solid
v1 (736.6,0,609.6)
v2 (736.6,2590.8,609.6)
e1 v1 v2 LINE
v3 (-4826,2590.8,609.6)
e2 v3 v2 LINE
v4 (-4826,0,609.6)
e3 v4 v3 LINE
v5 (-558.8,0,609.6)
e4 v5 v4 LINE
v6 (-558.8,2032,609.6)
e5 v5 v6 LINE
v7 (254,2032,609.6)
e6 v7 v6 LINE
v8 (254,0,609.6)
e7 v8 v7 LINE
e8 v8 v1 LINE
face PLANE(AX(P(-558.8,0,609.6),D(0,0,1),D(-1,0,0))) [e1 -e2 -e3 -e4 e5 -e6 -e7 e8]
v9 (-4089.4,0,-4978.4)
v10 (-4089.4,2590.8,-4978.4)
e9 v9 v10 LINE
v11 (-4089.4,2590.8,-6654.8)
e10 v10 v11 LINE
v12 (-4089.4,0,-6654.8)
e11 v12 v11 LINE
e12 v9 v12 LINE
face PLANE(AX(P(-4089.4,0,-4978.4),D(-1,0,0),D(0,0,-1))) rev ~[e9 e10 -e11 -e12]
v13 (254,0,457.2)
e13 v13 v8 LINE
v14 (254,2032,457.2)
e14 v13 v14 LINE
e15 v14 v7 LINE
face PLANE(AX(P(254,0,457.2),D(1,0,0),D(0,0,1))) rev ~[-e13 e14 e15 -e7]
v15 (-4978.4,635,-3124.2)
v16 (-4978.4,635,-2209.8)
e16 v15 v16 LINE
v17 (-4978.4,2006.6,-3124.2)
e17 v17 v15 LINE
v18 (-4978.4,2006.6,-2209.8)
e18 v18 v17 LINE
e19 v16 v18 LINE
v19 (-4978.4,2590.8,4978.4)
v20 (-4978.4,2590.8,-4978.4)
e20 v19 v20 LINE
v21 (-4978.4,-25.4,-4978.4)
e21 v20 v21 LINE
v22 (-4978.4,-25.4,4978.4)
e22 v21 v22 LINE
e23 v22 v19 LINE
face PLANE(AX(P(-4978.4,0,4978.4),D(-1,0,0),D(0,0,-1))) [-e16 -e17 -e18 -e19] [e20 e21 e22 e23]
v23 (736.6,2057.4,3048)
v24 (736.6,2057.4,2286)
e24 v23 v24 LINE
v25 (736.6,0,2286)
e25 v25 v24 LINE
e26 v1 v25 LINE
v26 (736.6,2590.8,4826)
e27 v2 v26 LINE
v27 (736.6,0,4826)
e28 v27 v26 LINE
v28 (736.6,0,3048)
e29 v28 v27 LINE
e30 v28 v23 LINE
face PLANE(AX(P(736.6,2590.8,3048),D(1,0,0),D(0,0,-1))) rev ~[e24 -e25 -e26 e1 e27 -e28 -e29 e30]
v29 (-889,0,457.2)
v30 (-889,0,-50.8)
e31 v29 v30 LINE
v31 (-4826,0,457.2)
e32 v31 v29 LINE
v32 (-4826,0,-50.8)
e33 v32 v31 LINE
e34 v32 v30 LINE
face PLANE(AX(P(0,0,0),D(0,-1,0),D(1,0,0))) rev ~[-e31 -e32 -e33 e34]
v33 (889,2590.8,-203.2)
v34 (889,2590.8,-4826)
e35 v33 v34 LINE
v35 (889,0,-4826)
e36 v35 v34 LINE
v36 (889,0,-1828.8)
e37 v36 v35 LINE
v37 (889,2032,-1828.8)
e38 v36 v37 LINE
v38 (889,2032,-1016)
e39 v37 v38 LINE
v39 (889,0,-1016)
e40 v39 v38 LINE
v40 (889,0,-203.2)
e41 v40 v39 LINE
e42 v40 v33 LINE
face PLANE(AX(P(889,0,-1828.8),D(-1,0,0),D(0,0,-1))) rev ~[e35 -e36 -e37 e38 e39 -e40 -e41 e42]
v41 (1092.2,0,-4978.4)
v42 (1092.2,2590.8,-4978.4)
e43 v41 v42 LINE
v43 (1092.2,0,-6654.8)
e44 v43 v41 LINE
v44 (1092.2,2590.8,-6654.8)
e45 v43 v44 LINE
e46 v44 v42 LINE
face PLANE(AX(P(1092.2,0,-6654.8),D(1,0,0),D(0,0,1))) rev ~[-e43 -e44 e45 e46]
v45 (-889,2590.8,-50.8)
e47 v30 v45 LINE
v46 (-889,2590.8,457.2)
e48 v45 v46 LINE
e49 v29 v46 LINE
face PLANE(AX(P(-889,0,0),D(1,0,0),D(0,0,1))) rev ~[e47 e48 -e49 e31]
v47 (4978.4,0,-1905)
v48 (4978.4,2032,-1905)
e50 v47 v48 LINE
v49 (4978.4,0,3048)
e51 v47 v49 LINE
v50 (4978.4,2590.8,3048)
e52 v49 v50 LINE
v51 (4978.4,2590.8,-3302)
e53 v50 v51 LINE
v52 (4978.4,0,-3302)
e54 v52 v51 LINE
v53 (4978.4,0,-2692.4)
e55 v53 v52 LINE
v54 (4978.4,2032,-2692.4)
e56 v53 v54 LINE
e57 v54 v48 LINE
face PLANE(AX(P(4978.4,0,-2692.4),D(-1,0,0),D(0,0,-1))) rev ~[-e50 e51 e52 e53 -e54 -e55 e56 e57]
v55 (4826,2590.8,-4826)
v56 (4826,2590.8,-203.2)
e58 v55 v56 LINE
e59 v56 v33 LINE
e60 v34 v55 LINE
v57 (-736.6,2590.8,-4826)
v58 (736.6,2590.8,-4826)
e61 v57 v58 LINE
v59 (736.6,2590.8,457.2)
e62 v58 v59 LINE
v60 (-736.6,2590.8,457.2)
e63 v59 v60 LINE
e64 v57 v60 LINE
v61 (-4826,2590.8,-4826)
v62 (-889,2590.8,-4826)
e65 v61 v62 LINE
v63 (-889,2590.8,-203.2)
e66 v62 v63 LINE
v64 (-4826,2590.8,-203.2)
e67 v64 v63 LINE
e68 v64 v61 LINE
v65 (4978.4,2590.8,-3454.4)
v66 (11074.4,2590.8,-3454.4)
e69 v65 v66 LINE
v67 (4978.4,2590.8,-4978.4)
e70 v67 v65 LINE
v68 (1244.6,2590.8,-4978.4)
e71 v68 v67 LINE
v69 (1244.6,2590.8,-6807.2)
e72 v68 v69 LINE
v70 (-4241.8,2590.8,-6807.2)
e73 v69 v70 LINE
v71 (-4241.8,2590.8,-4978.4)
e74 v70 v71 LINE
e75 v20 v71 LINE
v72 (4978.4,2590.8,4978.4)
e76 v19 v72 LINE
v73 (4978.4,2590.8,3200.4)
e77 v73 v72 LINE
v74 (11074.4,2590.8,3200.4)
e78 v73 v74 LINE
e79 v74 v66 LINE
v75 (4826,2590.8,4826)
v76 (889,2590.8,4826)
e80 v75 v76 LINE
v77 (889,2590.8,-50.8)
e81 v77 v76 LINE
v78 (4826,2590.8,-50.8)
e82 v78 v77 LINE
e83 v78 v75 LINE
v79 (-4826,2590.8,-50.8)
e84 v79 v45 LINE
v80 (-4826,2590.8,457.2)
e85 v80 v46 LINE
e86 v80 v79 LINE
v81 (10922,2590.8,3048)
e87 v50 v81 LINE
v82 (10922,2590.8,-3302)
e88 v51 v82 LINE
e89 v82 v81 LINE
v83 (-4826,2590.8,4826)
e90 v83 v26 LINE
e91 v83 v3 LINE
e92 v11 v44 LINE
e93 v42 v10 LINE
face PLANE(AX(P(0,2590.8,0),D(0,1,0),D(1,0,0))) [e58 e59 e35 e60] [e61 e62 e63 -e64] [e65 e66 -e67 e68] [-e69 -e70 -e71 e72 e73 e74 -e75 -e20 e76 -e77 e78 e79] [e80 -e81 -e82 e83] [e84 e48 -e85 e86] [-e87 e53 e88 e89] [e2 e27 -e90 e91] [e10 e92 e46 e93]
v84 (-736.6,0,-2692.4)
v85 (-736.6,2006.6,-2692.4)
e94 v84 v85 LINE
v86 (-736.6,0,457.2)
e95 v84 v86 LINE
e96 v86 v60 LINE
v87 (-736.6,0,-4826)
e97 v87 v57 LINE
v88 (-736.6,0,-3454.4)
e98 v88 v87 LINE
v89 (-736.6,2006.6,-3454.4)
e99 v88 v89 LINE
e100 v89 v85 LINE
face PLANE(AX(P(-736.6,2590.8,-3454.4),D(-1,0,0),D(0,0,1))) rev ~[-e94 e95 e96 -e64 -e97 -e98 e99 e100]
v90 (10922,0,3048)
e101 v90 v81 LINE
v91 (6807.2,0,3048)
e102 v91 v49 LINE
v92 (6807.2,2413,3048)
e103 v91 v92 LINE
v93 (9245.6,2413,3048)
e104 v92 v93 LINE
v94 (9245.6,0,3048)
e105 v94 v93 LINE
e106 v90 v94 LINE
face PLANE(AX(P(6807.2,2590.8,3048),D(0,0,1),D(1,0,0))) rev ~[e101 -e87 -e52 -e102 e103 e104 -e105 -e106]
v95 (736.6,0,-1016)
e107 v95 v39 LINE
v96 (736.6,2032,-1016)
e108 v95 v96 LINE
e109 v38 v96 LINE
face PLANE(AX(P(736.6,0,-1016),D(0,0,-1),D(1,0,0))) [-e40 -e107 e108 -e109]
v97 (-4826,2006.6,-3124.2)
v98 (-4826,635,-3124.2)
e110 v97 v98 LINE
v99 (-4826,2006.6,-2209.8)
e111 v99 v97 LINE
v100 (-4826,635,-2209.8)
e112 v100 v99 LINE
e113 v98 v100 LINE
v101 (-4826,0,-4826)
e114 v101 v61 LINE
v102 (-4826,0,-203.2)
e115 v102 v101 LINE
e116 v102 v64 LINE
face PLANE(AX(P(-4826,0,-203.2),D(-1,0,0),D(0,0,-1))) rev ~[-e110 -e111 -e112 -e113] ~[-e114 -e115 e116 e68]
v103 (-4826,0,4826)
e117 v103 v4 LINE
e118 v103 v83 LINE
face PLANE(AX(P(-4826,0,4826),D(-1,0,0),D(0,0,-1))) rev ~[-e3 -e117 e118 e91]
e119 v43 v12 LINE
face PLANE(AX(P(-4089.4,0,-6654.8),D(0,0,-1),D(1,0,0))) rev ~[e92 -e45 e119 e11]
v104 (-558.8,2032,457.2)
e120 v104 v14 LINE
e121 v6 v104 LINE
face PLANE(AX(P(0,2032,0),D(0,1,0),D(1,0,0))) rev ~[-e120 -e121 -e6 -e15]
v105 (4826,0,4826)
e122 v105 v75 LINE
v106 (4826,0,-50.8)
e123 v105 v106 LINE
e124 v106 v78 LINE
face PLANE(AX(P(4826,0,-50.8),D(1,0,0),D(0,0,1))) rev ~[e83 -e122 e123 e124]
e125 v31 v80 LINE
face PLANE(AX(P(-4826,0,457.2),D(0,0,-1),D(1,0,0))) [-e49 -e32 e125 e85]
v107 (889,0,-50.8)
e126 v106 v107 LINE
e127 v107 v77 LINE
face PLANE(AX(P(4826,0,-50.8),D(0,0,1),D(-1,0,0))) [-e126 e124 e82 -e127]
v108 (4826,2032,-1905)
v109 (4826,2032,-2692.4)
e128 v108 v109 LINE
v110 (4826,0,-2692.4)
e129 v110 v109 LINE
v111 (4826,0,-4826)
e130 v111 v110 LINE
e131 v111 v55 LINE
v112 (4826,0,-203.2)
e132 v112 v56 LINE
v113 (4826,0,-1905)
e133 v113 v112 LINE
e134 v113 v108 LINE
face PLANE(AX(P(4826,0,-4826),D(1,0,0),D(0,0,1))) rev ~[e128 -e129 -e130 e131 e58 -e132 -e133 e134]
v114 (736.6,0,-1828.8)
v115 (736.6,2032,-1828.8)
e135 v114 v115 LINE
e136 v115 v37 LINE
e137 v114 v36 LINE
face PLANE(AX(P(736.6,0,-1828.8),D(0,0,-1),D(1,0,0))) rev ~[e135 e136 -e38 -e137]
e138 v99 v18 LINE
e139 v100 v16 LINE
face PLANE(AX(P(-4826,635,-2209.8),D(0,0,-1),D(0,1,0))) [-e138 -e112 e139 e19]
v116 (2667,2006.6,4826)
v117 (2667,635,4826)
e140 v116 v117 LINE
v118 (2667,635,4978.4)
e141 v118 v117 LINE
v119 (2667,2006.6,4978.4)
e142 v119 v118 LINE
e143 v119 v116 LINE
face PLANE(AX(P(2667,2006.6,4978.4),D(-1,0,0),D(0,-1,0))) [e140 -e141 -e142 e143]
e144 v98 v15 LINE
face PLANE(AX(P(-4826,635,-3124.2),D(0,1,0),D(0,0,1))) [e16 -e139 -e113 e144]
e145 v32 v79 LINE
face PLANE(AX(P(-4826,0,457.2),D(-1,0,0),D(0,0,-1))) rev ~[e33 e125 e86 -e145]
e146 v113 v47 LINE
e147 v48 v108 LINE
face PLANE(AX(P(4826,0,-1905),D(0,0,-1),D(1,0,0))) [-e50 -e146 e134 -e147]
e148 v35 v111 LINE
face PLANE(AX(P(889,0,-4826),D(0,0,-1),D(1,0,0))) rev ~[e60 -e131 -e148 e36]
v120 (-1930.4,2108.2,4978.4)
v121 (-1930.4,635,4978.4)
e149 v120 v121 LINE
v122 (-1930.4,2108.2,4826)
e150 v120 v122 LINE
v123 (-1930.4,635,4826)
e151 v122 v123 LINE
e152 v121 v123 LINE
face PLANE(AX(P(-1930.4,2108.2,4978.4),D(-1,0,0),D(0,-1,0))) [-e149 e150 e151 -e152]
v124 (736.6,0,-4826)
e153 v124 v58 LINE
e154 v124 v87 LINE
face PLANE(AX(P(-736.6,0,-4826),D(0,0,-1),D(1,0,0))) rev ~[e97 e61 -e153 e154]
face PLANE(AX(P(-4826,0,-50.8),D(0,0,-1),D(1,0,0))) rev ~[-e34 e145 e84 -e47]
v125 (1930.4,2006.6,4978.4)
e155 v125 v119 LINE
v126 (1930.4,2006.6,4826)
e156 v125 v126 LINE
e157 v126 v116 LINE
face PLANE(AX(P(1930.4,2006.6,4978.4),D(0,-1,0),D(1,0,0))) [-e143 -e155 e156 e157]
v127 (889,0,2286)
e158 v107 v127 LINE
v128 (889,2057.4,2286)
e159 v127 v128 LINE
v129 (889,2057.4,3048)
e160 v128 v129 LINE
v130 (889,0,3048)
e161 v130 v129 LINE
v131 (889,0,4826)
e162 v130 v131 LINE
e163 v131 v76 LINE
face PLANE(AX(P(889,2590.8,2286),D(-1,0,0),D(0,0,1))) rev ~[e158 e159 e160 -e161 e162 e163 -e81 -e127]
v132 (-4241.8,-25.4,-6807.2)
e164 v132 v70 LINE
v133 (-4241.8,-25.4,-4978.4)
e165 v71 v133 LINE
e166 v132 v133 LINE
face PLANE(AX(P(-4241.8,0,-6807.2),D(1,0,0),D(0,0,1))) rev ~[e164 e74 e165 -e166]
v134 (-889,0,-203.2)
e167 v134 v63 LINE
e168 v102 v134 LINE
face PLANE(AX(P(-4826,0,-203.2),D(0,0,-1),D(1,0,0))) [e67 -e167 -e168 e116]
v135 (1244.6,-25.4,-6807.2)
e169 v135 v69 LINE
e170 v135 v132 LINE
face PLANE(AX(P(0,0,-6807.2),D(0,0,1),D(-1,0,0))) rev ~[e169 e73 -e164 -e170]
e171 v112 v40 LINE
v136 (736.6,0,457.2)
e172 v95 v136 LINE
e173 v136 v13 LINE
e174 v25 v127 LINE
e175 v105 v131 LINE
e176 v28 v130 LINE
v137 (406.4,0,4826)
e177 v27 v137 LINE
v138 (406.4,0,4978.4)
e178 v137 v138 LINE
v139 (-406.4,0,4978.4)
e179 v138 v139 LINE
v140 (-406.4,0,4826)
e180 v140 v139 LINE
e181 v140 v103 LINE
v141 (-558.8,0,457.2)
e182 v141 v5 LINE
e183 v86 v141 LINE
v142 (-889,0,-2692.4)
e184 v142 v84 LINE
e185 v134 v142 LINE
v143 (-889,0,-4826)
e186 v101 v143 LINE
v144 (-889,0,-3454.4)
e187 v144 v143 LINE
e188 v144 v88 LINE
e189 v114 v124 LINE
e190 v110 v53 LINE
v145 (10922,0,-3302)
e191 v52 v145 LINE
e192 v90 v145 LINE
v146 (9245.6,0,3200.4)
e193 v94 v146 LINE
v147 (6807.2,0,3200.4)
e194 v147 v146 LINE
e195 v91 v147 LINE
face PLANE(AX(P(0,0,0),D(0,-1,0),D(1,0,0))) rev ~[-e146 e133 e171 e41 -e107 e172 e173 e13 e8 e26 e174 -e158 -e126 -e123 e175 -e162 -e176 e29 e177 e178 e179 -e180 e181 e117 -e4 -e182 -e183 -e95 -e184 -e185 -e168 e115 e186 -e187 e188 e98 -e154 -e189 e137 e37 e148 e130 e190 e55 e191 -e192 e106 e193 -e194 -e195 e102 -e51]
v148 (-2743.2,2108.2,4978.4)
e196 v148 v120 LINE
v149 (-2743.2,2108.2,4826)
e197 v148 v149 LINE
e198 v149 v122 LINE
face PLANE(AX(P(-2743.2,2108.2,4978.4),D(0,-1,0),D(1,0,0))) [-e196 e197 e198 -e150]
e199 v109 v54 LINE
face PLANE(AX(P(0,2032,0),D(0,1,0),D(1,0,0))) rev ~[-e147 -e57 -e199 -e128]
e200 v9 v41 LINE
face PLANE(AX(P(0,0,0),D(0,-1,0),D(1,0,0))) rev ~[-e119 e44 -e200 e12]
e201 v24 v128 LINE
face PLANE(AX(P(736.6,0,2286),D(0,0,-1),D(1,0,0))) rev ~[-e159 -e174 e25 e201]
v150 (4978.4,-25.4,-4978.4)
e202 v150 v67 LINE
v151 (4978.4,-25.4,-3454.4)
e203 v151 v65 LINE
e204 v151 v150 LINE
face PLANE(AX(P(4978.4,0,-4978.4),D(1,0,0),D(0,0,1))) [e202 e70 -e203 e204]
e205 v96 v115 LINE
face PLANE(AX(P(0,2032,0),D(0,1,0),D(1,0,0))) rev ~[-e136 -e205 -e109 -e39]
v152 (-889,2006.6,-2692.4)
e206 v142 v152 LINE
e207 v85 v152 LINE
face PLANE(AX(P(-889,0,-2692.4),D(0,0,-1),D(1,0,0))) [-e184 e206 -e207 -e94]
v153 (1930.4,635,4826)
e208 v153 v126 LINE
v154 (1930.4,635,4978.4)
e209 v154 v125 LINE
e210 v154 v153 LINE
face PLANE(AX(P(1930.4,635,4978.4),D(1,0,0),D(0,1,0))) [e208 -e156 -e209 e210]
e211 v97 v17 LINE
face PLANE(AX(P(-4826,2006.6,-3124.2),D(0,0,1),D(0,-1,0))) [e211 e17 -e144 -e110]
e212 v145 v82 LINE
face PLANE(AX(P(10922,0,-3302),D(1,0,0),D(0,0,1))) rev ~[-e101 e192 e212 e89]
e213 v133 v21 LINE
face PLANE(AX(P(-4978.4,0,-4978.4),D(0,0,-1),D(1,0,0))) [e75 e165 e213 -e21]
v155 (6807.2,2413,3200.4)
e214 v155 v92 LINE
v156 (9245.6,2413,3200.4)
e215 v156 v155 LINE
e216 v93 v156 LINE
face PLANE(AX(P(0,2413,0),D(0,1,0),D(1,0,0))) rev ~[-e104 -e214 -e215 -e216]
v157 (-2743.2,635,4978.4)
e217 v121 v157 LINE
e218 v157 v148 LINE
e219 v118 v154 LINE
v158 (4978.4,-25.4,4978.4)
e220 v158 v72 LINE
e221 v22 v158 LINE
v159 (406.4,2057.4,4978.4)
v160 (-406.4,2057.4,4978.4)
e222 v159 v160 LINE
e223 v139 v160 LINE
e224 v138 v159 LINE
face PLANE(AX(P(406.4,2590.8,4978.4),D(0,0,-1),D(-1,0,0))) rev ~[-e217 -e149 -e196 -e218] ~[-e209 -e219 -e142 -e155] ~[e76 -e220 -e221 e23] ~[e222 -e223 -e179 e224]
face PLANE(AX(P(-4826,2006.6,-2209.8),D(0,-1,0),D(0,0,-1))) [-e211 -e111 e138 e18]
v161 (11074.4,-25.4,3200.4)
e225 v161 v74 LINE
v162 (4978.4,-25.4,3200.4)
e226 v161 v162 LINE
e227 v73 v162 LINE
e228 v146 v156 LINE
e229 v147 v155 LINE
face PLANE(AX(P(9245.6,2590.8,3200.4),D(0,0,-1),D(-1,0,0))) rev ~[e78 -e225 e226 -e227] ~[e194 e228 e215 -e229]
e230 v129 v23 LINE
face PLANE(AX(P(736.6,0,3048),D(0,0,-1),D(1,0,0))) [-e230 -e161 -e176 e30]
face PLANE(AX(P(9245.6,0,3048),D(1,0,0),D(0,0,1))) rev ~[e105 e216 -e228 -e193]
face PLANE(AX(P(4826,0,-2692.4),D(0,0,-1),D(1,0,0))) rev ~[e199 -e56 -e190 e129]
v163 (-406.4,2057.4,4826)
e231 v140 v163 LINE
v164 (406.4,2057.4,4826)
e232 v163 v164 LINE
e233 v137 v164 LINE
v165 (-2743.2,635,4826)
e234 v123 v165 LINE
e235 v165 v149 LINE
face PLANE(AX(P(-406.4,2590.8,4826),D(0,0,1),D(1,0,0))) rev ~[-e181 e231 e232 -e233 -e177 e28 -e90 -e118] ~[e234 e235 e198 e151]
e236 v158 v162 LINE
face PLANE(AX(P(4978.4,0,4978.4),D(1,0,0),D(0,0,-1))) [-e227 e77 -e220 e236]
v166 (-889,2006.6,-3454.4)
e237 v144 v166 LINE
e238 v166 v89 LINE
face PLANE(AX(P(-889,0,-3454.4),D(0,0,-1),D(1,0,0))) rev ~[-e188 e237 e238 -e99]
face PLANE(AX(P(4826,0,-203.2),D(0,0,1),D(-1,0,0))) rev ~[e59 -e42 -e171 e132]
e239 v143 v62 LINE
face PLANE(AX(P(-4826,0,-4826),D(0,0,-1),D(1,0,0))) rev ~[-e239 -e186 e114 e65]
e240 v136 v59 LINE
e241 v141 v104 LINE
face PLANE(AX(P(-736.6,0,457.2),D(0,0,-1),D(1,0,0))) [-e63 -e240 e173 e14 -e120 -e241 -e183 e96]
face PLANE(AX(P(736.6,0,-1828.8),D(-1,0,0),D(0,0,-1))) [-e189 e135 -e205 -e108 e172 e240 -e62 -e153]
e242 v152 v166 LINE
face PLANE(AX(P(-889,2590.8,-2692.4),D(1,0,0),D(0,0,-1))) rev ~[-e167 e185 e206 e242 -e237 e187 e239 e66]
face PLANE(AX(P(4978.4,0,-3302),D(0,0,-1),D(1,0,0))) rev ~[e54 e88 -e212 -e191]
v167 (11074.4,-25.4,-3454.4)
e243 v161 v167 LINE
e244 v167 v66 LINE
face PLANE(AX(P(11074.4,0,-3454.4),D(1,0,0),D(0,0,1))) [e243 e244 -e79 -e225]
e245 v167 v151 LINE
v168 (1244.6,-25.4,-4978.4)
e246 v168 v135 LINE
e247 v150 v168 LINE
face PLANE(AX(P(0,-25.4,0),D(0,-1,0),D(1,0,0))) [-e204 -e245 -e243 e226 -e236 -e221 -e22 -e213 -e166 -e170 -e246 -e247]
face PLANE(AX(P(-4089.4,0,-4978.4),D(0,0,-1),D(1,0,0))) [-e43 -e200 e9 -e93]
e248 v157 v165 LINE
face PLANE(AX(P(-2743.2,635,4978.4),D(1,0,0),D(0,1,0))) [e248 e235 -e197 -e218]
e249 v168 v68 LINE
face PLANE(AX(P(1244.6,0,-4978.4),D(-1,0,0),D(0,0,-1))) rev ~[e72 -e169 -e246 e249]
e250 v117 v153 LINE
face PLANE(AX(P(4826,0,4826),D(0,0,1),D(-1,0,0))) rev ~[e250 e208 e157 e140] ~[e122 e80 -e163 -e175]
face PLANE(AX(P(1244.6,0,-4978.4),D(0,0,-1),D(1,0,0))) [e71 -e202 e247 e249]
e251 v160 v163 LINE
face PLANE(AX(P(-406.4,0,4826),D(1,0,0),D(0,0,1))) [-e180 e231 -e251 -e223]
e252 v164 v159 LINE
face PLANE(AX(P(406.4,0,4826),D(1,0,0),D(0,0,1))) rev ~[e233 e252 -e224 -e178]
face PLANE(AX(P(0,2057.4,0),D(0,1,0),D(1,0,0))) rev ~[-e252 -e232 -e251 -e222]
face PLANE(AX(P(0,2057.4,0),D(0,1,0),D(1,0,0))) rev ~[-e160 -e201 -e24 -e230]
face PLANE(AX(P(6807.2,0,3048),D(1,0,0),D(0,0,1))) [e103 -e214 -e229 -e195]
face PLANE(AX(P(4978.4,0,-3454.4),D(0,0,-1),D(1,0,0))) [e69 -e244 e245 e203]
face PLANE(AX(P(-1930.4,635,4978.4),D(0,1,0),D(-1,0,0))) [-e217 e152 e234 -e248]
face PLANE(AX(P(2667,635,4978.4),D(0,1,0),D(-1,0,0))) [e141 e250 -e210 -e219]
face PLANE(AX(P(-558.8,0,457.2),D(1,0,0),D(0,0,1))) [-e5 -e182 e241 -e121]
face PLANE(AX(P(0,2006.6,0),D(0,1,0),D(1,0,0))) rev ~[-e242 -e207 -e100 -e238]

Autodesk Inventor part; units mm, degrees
ref_plane "YZ Plane" through (0, 0, 0) normal (1, 0, 0) x (0, 1, 0)
ref_plane "XZ Plane" through (0, 0, 0) normal (0, 1, 0) x (-1, 0, 0)
ref_plane "XY Plane" through (0, 0, 0) normal (0, 0, 1) x (1, 0, 0)
sketch "Sketch1" plane through (0, 0, 0) normal (0, 1, 0) x (-1, 0, 0)
  line L0 (4978.4, 4978.4) -> (4978.4, -4978.4)
  line L1 (8188.96, 0) -> (-14284.96, 0) projected
  line L2 (0, -9164.32) -> (0, 7335.52) projected
  line L3 (-4978.4, -3454.4) -> (-11074.4, -3454.4)
  line L4 (-11074.4, -3454.4) -> (-11074.4, 3200.4)
  line L5 (-4978.4, -3302) -> (-10922, -3302)
  line L6 (-10922, -3302) -> (-10922, 3048)
  line L7 (4089.4, -4978.4) -> (-1092.2, -4978.4)
  line L8 (-1244.6, -4978.4) -> (-1244.6, -6807.2)
  line L9 (-1244.6, -6807.2) -> (4241.8, -6807.2)
  line L10 (4241.8, -6807.2) -> (4241.8, -4978.4)
  line L11 (4089.4, -6654.8) -> (-1092.2, -6654.8)
  line L12 (-1092.2, -6654.8) -> (-1092.2, -4978.4)
  line L13 (-1092.2, -4978.4) -> (4089.4, -4978.4)
  line L14 (4089.4, -4978.4) -> (4089.4, -6654.8)
  line L15 (-1244.6, -4978.4) -> (-4978.4, -4978.4)
  line L16 (4978.4, -4978.4) -> (4241.8, -4978.4)
  line L17 (4089.4, -4978.4) -> (-1092.2, -4978.4)
  line L18 (-4978.4, -4978.4) -> (-4978.4, -3454.4)
  line L19 (-4978.4, 3200.4) -> (-4978.4, 4978.4)
  line L20 (-6807.2, 3048) -> (-6807.2, 3200.4)
  line L21 (-9245.6, 3048) -> (-9245.6, 3200.4)
  line L22 (-10922, 3048) -> (-9245.6, 3048)
  line L23 (-6807.2, 3048) -> (-4978.4, 3048)
  line L24 (-11074.4, 3200.4) -> (-9245.6, 3200.4)
  line L25 (-6807.2, 3200.4) -> (-4978.4, 3200.4)
  line L26 (-406.4, 4826) -> (-406.4, 4978.4)
  line L27 (406.4, 4826) -> (406.4, 4978.4)
  line L28 (-4978.4, 4978.4) -> (-406.4, 4978.4)
  line L29 (406.4, 4978.4) -> (4978.4, 4978.4)
  line L30 (406.4, 4826) -> (4826, 4826)
  line L31 (4826, -203.2) -> (889, -203.2)
  line L32 (4826, -50.8) -> (889, -50.8)
  line L33 (-4826, -203.2) -> (-889, -203.2)
  line L34 (-4826, -50.8) -> (-889, -50.8)
  line L35 (-4826, -1905) -> (-4978.4, -1905)
  line L36 (-4826, -2692.4) -> (-4978.4, -2692.4)
  line L37 (-4978.4, 3048) -> (-4978.4, -1905)
  line L38 (-4978.4, -2692.4) -> (-4978.4, -3302)
  line L39 (-4978.4, 3048) -> (-4978.4, -1905)
  line L40 (-4978.4, -2692.4) -> (-4978.4, -3302)
  line L41 (-4826, -4826) -> (-4826, -2692.4)
  line L42 (-4978.4, -3302) -> (-4978.4, -2692.4)
  line L43 (-4978.4, -1905) -> (-4978.4, 3048)
  line L44 (-4826, -1905) -> (-4826, -203.2)
  line L45 (-4826, -50.8) -> (-4826, 4826)
  line L46 (-4826, 4826) -> (-889, 4826)
  line L47 (-736.6, 4826) -> (-406.4, 4826)
  line L48 (4826, -203.2) -> (4826, -4826)
  line L49 (4826, -4826) -> (889, -4826)
  line L50 (736.6, -4826) -> (-736.6, -4826)
  line L51 (-889, -4826) -> (-4826, -4826)
  line L52 (889, -2692.4) -> (736.6, -2692.4)
  line L53 (889, -3454.4) -> (736.6, -3454.4)
  line L54 (-736.6, -1016) -> (-889, -1016)
  line L55 (-736.6, -1828.8) -> (-889, -1828.8)
  line L56 (-254, 457.2) -> (-254, 609.6)
  line L57 (558.8, 609.6) -> (4826, 609.6)
  line L58 (736.6, -50.8) -> (736.6, 457.2)
  line L59 (889, -50.8) -> (889, 457.2)
  line L60 (-736.6, 3048) -> (-889, 3048)
  line L61 (-736.6, 2286) -> (-889, 2286)
  line L62 (558.8, 457.2) -> (558.8, 609.6)
  line L63 (-254, 609.6) -> (-736.6, 609.6)
  line L64 (-736.6, 457.2) -> (-254, 457.2)
  line L65 (-736.6, -50.8) -> (-736.6, 457.2)
  line L66 (4826, 457.2) -> (889, 457.2)
  line L67 (736.6, 457.2) -> (558.8, 457.2)
  line L68 (-736.6, 609.6) -> (-736.6, 2286)
  line L69 (-736.6, 3048) -> (-736.6, 4826)
  line L70 (-889, -50.8) -> (-889, 2286)
  line L71 (-889, 3048) -> (-889, 4826)
  line L72 (-736.6, -50.8) -> (-736.6, -1016)
  line L73 (-736.6, -1828.8) -> (-736.6, -4826)
  line L74 (-889, -203.2) -> (-889, -1016)
  line L75 (-889, -1828.8) -> (-889, -4826)
  line L76 (736.6, -50.8) -> (736.6, -2692.4)
  line L77 (736.6, -3454.4) -> (736.6, -4826)
  line L78 (889, -203.2) -> (889, -2692.4)
  line L79 (889, -3454.4) -> (889, -4826)
  line L80 (4826, 4826) -> (4826, 609.6)
  line L81 (4826, 457.2) -> (4826, -50.8)
  point P0 (0, 0)
  dimension "d8" = 152.4
  dimension "d9" = 152.4
  dimension "d12" = 736.6
  dimension "d14" = 152.4
  dimension "d15" = 152.4
  dimension "d16" = 152.4
  dimension "d17" = 1828.8
  dimension "d19" = 1524
  dimension "d22" = 9956.8
  dimension "d23" = 3733.8
  dimension "d24" = 1828.8
  dimension "d25" = 1828.8
  dimension "d26" = 6654.8
  dimension "d27" = 152.4
  dimension "d28" = 4572
  dimension "d29" = 812.8
  dimension "d30" = 9956.8
  dimension "d32" = 152.4
  dimension "d35" = 1701.8
  dimension "d36" = 2489.2
  dimension "d38" = 5486.4
  dimension "d40" = 152.4
  dimension "d41" = 4622.8
  dimension "d42" = 152.4
  dimension "d43" = 6096
  dimension "d44" = 2489.2
  dimension "d45" = 3251.2
  dimension "d48" = 812.8
  dimension "d49" = 812.8
  dimension "d52" = 1778
  dimension "d53" = 2540
  dimension "d57" = 812.8
  dimension "d59" = 152.4
  dimension "d60" = 152.4
  dimension "d61" = 152.4
  dimension "d62" = 5283.2
  dimension "d63" = 3937
  dimension "d64" = 4267.2
  dimension "d65" = 152.4
extrude "Extrusion1" add sketch "Sketch1" along normal blind 2590.8 contours L0 L1 L81 L66 L59 L58 L67 L62 L57 L80 L30 L27 L29 | L0 L16 L10 L9 L2 L11 L14 L7 L50 L77 L53 L79 L49 L48 L31 L78 L52 L76 L58 L1 L59 L32 L81 | L9 L8 L15 L18 L3 L4 L1 L6 L5 L38 L36 L41 L51 L75 L55 L73 L50 L2 L7 L12 L11 | L65 L72 L54 L74 L33 L44 L35 L37 L1 L45 L34 L70 | L1 L70 L61 L68 L63 L56 L64 L65 | L1 L37 L23 L20 L25 L19 L28 L26 L47 L69 L60 L71 L46 L45 | L1 L4 L24 L21 L22 L6
sketch "Sketch2" plane through (0, 0, 0) normal (0, -1, 0) x (1, 0, 0)
  line L0 (-4978.4, -4978.4) -> (-4978.4, 4978.4) projected
  line L1 (-4241.8, -4978.4) -> (-4978.4, -4978.4) projected
  line L2 (-4241.8, -6807.2) -> (-4241.8, -4978.4) projected
  line L3 (1244.6, -6807.2) -> (-4241.8, -6807.2) projected
  line L4 (1244.6, -4978.4) -> (1244.6, -6807.2) projected
  line L5 (4978.4, -4978.4) -> (1244.6, -4978.4) projected
  line L6 (4978.4, -3454.4) -> (4978.4, -4978.4) projected
  line L7 (11074.4, -3454.4) -> (4978.4, -3454.4) projected
  line L8 (11074.4, 3200.4) -> (11074.4, -3454.4) projected
  line L9 (9245.6, 3200.4) -> (11074.4, 3200.4) projected
  line L10 (9245.6, 3048) -> (9245.6, 3200.4) projected
  line L11 (10922, 3048) -> (9245.6, 3048) projected
  line L12 (10922, -3302) -> (10922, 3048) projected
  line L13 (4978.4, -3302) -> (10922, -3302) projected
  line L14 (4978.4, -2692.4) -> (4978.4, -3302) projected
  line L15 (4826, -2692.4) -> (4978.4, -2692.4) projected
  line L16 (4826, -4826) -> (4826, -2692.4) projected
  line L17 (889, -4826) -> (4826, -4826) projected
  line L18 (889, -1828.8) -> (889, -4826) projected
  line L19 (736.6, -1828.8) -> (889, -1828.8) projected
  line L20 (736.6, -4826) -> (736.6, -1828.8) projected
  line L21 (-736.6, -4826) -> (736.6, -4826) projected
  line L22 (-736.6, -3454.4) -> (-736.6, -4826) projected
  line L23 (-889, -3454.4) -> (-736.6, -3454.4) projected
  line L24 (-889, -4826) -> (-889, -3454.4) projected
  line L25 (-4826, -4826) -> (-889, -4826) projected
  line L26 (-4826, -203.2) -> (-4826, -4826) projected
  line L27 (-889, -203.2) -> (-4826, -203.2) projected
  line L28 (-889, -2692.4) -> (-889, -203.2) projected
  line L29 (-736.6, -2692.4) -> (-889, -2692.4) projected
  line L30 (-736.6, 457.2) -> (-736.6, -2692.4) projected
  line L31 (-558.8, 457.2) -> (-736.6, 457.2) projected
  line L32 (-558.8, 609.6) -> (-558.8, 457.2) projected
  line L33 (-4826, 609.6) -> (-558.8, 609.6) projected
  line L34 (-4826, 4826) -> (-4826, 609.6) projected
  line L35 (-406.4, 4826) -> (-4826, 4826) projected
  line L36 (-406.4, 4978.4) -> (-406.4, 4826) projected
  line L37 (-4978.4, 4978.4) -> (-406.4, 4978.4) projected
  line L38 (4978.4, 4978.4) -> (4978.4, 3200.4) projected
  line L39 (406.4, 4978.4) -> (4978.4, 4978.4) projected
  line L40 (406.4, 4826) -> (406.4, 4978.4) projected
  line L41 (736.6, 4826) -> (406.4, 4826) projected
  line L42 (736.6, 3048) -> (736.6, 4826) projected
  line L43 (889, 3048) -> (736.6, 3048) projected
  line L44 (889, 4826) -> (889, 3048) projected
  line L45 (4826, 4826) -> (889, 4826) projected
  line L46 (4826, -50.8) -> (4826, 4826) projected
  line L47 (889, -50.8) -> (4826, -50.8) projected
  line L48 (889, 2286) -> (889, -50.8) projected
  line L49 (736.6, 2286) -> (889, 2286) projected
  line L50 (736.6, 609.6) -> (736.6, 2286) projected
  line L51 (254, 609.6) -> (736.6, 609.6) projected
  line L52 (254, 457.2) -> (254, 609.6) projected
  line L53 (736.6, 457.2) -> (254, 457.2) projected
  line L54 (736.6, -1016) -> (736.6, 457.2) projected
  line L55 (889, -1016) -> (736.6, -1016) projected
  line L56 (889, -203.2) -> (889, -1016) projected
  line L57 (4826, -203.2) -> (889, -203.2) projected
  line L58 (4826, -1905) -> (4826, -203.2) projected
  line L59 (4978.4, -1905) -> (4826, -1905) projected
  line L60 (4978.4, 3048) -> (4978.4, -1905) projected
  line L61 (6807.2, 3048) -> (4978.4, 3048) projected
  line L62 (6807.2, 3200.4) -> (6807.2, 3048) projected
  line L63 (4978.4, 3200.4) -> (6807.2, 3200.4) projected
  line L64 (-4978.4, 4978.4) -> (4978.4, 4978.4)
  line L65 (4978.4, 4978.4) -> (4978.4, -4978.4)
  line L66 (4978.4, -4978.4) -> (-4978.4, -4978.4)
  line L67 (-4978.4, -4978.4) -> (-4978.4, 4978.4)
  line L68 (-4241.8, -4978.4) -> (1244.6, -4978.4)
  line L69 (1244.6, -4978.4) -> (1244.6, -6807.2)
  line L70 (1244.6, -6807.2) -> (-4241.8, -6807.2)
  line L71 (-4241.8, -6807.2) -> (-4241.8, -4978.4)
  line L72 (11074.4, 3200.4) -> (4978.4, 3200.4)
  line L73 (4978.4, 3200.4) -> (4978.4, -3454.4)
  line L74 (4978.4, -3454.4) -> (11074.4, -3454.4)
  line L75 (11074.4, -3454.4) -> (11074.4, 3200.4)
  point P0 (0, 0)
extrude "Extrusion2" add sketch "Sketch2" along normal blind 25.4
sketch "Sketch3" plane through (0, 2590.8, 0) normal (0, 1, 0) x (1, 0, 0)
  line L0 (6807.2, -3200.4) -> (6807.2, -3048) projected
  line L1 (9245.6, -3200.4) -> (6807.2, -3200.4) projected
  line L2 (9245.6, -3048) -> (9245.6, -3200.4) projected
  line L3 (10922, -3048) -> (9245.6, -3048) projected
  line L4 (10922, 3302) -> (10922, -3048) projected
  line L5 (4978.4, 3302) -> (10922, 3302) projected
  line L6 (4978.4, 2692.4) -> (4978.4, 3302) projected
  line L7 (4826, 2692.4) -> (4978.4, 2692.4) projected
  line L8 (4826, 4826) -> (4826, 2692.4) projected
  line L9 (889, 4826) -> (4826, 4826) projected
  line L10 (889, 1828.8) -> (889, 4826) projected
  line L11 (736.6, 1828.8) -> (889, 1828.8) projected
  line L12 (736.6, 4826) -> (736.6, 1828.8) projected
  line L13 (-736.6, 4826) -> (736.6, 4826) projected
  line L14 (-736.6, 3454.4) -> (-736.6, 4826) projected
  line L15 (-889, 3454.4) -> (-736.6, 3454.4) projected
  line L16 (-889, 4826) -> (-889, 3454.4) projected
  line L17 (-4826, 4826) -> (-889, 4826) projected
  line L18 (-4826, 203.2) -> (-4826, 4826) projected
  line L19 (-889, 203.2) -> (-4826, 203.2) projected
  line L20 (-889, 2692.4) -> (-889, 203.2) projected
  line L21 (-736.6, 2692.4) -> (-889, 2692.4) projected
  line L22 (-736.6, -457.2) -> (-736.6, 2692.4) projected
  line L23 (-558.8, -457.2) -> (-736.6, -457.2) projected
  line L24 (-558.8, -609.6) -> (-558.8, -457.2) projected
  line L25 (-4826, -609.6) -> (-558.8, -609.6) projected
  line L26 (-4826, -4826) -> (-4826, -609.6) projected
  line L27 (-406.4, -4826) -> (-4826, -4826) projected
  line L28 (-406.4, -4978.4) -> (-406.4, -4826) projected
  line L29 (406.4, -4978.4) -> (-406.4, -4978.4) projected
  line L30 (406.4, -4826) -> (406.4, -4978.4) projected
  line L31 (736.6, -4826) -> (406.4, -4826) projected
  line L32 (736.6, -3048) -> (736.6, -4826) projected
  line L33 (889, -3048) -> (736.6, -3048) projected
  line L34 (889, -4826) -> (889, -3048) projected
  line L35 (4826, -4826) -> (889, -4826) projected
  line L36 (4826, 50.8) -> (4826, -4826) projected
  line L37 (889, 50.8) -> (4826, 50.8) projected
  line L38 (889, -2286) -> (889, 50.8) projected
  line L39 (736.6, -2286) -> (889, -2286) projected
  line L40 (736.6, -609.6) -> (736.6, -2286) projected
  line L41 (254, -609.6) -> (736.6, -609.6) projected
  line L42 (254, -457.2) -> (254, -609.6) projected
  line L43 (736.6, -457.2) -> (254, -457.2) projected
  line L44 (736.6, 1016) -> (736.6, -457.2) projected
  line L45 (889, 1016) -> (736.6, 1016) projected
  line L46 (889, 203.2) -> (889, 1016) projected
  line L47 (4826, 203.2) -> (889, 203.2) projected
  line L48 (4826, 1905) -> (4826, 203.2) projected
  line L49 (4978.4, 1905) -> (4826, 1905) projected
  line L50 (4978.4, -3048) -> (4978.4, 1905) projected
  line L51 (6807.2, -3048) -> (4978.4, -3048) projected
  line L52 (-406.4, -4826) -> (406.4, -4826)
  line L53 (406.4, -4826) -> (406.4, -4978.4)
  line L54 (406.4, -4978.4) -> (-406.4, -4978.4)
  line L55 (-406.4, -4978.4) -> (-406.4, -4826)
  line L56 (736.6, -2286) -> (889, -2286)
  line L57 (889, -2286) -> (889, -3048)
  line L58 (889, -3048) -> (736.6, -3048)
  line L59 (736.6, -3048) -> (736.6, -2286)
  line L60 (-558.8, -457.2) -> (254, -457.2)
  line L61 (254, -457.2) -> (254, -609.6)
  line L62 (254, -609.6) -> (-558.8, -609.6)
  line L63 (-558.8, -609.6) -> (-558.8, -457.2)
  line L64 (736.6, 1828.8) -> (889, 1828.8)
  line L65 (889, 1828.8) -> (889, 1016)
  line L66 (889, 1016) -> (736.6, 1016)
  line L67 (736.6, 1016) -> (736.6, 1828.8)
  line L68 (-889, 3454.4) -> (-736.6, 3454.4)
  line L69 (-736.6, 3454.4) -> (-736.6, 2692.4)
  line L70 (-736.6, 2692.4) -> (-889, 2692.4)
  line L71 (-889, 2692.4) -> (-889, 3454.4)
  line L72 (4826, 2692.4) -> (4978.4, 2692.4)
  line L73 (4978.4, 2692.4) -> (4978.4, 1905)
  line L74 (4978.4, 1905) -> (4826, 1905)
  line L75 (4826, 1905) -> (4826, 2692.4)
  line L76 (6807.2, -3048) -> (9245.6, -3048)
  line L77 (9245.6, -3048) -> (9245.6, -3200.4)
  line L78 (9245.6, -3200.4) -> (6807.2, -3200.4)
  line L79 (6807.2, -3200.4) -> (6807.2, -3048)
  point P0 (0, 0)
extrude "Extrusion3" add sketch "Sketch3" against normal blind 558.8 contours L49 L75 L7 L73 | L45 L67 L11 L65 | L42 L62 L24 L60
extrude "Extrusion4" add sketch "Sketch3" against normal blind 533.4 contours L39 L57 L33 L59
extrude "Extrusion5" add sketch "Sketch3" against normal blind 584.2 contours L69 L21 L71 L15
extrude "Extrusion6" add sketch "Sketch3" against normal blind 177.8 contours L0 L76 L2 L1
extrude "Extrusion7" add sketch "Sketch3" against normal blind 533.4 contours L52 L30 L29 L28
sketch "Sketch4" plane through (-4978.4, 2590.8, 4978.4) normal (0, 0, 1) x (1, 0, 0)
  line L0 (0, 0) -> (9956.8, 0) projected
  line L1 (0, -2616.2) -> (0, 0) projected
  line L2 (9956.8, 0) -> (9956.8, -2616.2) projected
  line L3 (4572, -2590.8) -> (152.4, -2590.8) projected
  line L4 (9804.4, -2590.8) -> (5867.4, -2590.8) projected
  line L5 (2235.2, -482.6) -> (3048, -482.6)
  line L6 (3048, -482.6) -> (3048, -1955.8)
  line L7 (3048, -1955.8) -> (2235.2, -1955.8)
  line L8 (2235.2, -1955.8) -> (2235.2, -482.6)
  line L9 (6908.8, -584.2) -> (7645.4, -584.2)
  line L10 (7645.4, -584.2) -> (7645.4, -1955.8)
  line L11 (7645.4, -1955.8) -> (6908.8, -1955.8)
  line L12 (6908.8, -1955.8) -> (6908.8, -584.2)
  point P0 (4978.4, -2590.8)
  dimension "d80" = 482.6
  dimension "d81" = 635
  dimension "d82" = 2235.2
  dimension "d83" = 812.8
  dimension "d84" = 635
  dimension "d85" = 584.2
  dimension "d86" = 2311.4
  dimension "d87" = 736.6
extrude "Extrusion8" cut sketch "Sketch4" against normal up to surface (152.4 mm away)
sketch "Sketch6" plane through (-4826, 2590.8, -203.2) normal (1, 0, 0) x (0, 0, -1)
  line L0 (0, -2590.8) -> (4622.8, -2590.8) projected
  line L1 (0, -2590.8) -> (0, 0) projected
  line L2 (2006.6, -584.2) -> (2921, -584.2)
  line L3 (2921, -584.2) -> (2921, -1955.8)
  line L4 (2921, -1955.8) -> (2006.6, -1955.8)
  line L5 (2006.6, -1955.8) -> (2006.6, -584.2)
  point P0 (-203.2, -2590.8)
  dimension "d97" = 914.4
  dimension "d98" = 1371.6
  dimension "d99" = 635
  dimension "d100" = 2006.6
extrude "Extrusion10" cut sketch "Sketch6" against normal up to surface (152.4 mm away)
properties part number "305 Manning"
